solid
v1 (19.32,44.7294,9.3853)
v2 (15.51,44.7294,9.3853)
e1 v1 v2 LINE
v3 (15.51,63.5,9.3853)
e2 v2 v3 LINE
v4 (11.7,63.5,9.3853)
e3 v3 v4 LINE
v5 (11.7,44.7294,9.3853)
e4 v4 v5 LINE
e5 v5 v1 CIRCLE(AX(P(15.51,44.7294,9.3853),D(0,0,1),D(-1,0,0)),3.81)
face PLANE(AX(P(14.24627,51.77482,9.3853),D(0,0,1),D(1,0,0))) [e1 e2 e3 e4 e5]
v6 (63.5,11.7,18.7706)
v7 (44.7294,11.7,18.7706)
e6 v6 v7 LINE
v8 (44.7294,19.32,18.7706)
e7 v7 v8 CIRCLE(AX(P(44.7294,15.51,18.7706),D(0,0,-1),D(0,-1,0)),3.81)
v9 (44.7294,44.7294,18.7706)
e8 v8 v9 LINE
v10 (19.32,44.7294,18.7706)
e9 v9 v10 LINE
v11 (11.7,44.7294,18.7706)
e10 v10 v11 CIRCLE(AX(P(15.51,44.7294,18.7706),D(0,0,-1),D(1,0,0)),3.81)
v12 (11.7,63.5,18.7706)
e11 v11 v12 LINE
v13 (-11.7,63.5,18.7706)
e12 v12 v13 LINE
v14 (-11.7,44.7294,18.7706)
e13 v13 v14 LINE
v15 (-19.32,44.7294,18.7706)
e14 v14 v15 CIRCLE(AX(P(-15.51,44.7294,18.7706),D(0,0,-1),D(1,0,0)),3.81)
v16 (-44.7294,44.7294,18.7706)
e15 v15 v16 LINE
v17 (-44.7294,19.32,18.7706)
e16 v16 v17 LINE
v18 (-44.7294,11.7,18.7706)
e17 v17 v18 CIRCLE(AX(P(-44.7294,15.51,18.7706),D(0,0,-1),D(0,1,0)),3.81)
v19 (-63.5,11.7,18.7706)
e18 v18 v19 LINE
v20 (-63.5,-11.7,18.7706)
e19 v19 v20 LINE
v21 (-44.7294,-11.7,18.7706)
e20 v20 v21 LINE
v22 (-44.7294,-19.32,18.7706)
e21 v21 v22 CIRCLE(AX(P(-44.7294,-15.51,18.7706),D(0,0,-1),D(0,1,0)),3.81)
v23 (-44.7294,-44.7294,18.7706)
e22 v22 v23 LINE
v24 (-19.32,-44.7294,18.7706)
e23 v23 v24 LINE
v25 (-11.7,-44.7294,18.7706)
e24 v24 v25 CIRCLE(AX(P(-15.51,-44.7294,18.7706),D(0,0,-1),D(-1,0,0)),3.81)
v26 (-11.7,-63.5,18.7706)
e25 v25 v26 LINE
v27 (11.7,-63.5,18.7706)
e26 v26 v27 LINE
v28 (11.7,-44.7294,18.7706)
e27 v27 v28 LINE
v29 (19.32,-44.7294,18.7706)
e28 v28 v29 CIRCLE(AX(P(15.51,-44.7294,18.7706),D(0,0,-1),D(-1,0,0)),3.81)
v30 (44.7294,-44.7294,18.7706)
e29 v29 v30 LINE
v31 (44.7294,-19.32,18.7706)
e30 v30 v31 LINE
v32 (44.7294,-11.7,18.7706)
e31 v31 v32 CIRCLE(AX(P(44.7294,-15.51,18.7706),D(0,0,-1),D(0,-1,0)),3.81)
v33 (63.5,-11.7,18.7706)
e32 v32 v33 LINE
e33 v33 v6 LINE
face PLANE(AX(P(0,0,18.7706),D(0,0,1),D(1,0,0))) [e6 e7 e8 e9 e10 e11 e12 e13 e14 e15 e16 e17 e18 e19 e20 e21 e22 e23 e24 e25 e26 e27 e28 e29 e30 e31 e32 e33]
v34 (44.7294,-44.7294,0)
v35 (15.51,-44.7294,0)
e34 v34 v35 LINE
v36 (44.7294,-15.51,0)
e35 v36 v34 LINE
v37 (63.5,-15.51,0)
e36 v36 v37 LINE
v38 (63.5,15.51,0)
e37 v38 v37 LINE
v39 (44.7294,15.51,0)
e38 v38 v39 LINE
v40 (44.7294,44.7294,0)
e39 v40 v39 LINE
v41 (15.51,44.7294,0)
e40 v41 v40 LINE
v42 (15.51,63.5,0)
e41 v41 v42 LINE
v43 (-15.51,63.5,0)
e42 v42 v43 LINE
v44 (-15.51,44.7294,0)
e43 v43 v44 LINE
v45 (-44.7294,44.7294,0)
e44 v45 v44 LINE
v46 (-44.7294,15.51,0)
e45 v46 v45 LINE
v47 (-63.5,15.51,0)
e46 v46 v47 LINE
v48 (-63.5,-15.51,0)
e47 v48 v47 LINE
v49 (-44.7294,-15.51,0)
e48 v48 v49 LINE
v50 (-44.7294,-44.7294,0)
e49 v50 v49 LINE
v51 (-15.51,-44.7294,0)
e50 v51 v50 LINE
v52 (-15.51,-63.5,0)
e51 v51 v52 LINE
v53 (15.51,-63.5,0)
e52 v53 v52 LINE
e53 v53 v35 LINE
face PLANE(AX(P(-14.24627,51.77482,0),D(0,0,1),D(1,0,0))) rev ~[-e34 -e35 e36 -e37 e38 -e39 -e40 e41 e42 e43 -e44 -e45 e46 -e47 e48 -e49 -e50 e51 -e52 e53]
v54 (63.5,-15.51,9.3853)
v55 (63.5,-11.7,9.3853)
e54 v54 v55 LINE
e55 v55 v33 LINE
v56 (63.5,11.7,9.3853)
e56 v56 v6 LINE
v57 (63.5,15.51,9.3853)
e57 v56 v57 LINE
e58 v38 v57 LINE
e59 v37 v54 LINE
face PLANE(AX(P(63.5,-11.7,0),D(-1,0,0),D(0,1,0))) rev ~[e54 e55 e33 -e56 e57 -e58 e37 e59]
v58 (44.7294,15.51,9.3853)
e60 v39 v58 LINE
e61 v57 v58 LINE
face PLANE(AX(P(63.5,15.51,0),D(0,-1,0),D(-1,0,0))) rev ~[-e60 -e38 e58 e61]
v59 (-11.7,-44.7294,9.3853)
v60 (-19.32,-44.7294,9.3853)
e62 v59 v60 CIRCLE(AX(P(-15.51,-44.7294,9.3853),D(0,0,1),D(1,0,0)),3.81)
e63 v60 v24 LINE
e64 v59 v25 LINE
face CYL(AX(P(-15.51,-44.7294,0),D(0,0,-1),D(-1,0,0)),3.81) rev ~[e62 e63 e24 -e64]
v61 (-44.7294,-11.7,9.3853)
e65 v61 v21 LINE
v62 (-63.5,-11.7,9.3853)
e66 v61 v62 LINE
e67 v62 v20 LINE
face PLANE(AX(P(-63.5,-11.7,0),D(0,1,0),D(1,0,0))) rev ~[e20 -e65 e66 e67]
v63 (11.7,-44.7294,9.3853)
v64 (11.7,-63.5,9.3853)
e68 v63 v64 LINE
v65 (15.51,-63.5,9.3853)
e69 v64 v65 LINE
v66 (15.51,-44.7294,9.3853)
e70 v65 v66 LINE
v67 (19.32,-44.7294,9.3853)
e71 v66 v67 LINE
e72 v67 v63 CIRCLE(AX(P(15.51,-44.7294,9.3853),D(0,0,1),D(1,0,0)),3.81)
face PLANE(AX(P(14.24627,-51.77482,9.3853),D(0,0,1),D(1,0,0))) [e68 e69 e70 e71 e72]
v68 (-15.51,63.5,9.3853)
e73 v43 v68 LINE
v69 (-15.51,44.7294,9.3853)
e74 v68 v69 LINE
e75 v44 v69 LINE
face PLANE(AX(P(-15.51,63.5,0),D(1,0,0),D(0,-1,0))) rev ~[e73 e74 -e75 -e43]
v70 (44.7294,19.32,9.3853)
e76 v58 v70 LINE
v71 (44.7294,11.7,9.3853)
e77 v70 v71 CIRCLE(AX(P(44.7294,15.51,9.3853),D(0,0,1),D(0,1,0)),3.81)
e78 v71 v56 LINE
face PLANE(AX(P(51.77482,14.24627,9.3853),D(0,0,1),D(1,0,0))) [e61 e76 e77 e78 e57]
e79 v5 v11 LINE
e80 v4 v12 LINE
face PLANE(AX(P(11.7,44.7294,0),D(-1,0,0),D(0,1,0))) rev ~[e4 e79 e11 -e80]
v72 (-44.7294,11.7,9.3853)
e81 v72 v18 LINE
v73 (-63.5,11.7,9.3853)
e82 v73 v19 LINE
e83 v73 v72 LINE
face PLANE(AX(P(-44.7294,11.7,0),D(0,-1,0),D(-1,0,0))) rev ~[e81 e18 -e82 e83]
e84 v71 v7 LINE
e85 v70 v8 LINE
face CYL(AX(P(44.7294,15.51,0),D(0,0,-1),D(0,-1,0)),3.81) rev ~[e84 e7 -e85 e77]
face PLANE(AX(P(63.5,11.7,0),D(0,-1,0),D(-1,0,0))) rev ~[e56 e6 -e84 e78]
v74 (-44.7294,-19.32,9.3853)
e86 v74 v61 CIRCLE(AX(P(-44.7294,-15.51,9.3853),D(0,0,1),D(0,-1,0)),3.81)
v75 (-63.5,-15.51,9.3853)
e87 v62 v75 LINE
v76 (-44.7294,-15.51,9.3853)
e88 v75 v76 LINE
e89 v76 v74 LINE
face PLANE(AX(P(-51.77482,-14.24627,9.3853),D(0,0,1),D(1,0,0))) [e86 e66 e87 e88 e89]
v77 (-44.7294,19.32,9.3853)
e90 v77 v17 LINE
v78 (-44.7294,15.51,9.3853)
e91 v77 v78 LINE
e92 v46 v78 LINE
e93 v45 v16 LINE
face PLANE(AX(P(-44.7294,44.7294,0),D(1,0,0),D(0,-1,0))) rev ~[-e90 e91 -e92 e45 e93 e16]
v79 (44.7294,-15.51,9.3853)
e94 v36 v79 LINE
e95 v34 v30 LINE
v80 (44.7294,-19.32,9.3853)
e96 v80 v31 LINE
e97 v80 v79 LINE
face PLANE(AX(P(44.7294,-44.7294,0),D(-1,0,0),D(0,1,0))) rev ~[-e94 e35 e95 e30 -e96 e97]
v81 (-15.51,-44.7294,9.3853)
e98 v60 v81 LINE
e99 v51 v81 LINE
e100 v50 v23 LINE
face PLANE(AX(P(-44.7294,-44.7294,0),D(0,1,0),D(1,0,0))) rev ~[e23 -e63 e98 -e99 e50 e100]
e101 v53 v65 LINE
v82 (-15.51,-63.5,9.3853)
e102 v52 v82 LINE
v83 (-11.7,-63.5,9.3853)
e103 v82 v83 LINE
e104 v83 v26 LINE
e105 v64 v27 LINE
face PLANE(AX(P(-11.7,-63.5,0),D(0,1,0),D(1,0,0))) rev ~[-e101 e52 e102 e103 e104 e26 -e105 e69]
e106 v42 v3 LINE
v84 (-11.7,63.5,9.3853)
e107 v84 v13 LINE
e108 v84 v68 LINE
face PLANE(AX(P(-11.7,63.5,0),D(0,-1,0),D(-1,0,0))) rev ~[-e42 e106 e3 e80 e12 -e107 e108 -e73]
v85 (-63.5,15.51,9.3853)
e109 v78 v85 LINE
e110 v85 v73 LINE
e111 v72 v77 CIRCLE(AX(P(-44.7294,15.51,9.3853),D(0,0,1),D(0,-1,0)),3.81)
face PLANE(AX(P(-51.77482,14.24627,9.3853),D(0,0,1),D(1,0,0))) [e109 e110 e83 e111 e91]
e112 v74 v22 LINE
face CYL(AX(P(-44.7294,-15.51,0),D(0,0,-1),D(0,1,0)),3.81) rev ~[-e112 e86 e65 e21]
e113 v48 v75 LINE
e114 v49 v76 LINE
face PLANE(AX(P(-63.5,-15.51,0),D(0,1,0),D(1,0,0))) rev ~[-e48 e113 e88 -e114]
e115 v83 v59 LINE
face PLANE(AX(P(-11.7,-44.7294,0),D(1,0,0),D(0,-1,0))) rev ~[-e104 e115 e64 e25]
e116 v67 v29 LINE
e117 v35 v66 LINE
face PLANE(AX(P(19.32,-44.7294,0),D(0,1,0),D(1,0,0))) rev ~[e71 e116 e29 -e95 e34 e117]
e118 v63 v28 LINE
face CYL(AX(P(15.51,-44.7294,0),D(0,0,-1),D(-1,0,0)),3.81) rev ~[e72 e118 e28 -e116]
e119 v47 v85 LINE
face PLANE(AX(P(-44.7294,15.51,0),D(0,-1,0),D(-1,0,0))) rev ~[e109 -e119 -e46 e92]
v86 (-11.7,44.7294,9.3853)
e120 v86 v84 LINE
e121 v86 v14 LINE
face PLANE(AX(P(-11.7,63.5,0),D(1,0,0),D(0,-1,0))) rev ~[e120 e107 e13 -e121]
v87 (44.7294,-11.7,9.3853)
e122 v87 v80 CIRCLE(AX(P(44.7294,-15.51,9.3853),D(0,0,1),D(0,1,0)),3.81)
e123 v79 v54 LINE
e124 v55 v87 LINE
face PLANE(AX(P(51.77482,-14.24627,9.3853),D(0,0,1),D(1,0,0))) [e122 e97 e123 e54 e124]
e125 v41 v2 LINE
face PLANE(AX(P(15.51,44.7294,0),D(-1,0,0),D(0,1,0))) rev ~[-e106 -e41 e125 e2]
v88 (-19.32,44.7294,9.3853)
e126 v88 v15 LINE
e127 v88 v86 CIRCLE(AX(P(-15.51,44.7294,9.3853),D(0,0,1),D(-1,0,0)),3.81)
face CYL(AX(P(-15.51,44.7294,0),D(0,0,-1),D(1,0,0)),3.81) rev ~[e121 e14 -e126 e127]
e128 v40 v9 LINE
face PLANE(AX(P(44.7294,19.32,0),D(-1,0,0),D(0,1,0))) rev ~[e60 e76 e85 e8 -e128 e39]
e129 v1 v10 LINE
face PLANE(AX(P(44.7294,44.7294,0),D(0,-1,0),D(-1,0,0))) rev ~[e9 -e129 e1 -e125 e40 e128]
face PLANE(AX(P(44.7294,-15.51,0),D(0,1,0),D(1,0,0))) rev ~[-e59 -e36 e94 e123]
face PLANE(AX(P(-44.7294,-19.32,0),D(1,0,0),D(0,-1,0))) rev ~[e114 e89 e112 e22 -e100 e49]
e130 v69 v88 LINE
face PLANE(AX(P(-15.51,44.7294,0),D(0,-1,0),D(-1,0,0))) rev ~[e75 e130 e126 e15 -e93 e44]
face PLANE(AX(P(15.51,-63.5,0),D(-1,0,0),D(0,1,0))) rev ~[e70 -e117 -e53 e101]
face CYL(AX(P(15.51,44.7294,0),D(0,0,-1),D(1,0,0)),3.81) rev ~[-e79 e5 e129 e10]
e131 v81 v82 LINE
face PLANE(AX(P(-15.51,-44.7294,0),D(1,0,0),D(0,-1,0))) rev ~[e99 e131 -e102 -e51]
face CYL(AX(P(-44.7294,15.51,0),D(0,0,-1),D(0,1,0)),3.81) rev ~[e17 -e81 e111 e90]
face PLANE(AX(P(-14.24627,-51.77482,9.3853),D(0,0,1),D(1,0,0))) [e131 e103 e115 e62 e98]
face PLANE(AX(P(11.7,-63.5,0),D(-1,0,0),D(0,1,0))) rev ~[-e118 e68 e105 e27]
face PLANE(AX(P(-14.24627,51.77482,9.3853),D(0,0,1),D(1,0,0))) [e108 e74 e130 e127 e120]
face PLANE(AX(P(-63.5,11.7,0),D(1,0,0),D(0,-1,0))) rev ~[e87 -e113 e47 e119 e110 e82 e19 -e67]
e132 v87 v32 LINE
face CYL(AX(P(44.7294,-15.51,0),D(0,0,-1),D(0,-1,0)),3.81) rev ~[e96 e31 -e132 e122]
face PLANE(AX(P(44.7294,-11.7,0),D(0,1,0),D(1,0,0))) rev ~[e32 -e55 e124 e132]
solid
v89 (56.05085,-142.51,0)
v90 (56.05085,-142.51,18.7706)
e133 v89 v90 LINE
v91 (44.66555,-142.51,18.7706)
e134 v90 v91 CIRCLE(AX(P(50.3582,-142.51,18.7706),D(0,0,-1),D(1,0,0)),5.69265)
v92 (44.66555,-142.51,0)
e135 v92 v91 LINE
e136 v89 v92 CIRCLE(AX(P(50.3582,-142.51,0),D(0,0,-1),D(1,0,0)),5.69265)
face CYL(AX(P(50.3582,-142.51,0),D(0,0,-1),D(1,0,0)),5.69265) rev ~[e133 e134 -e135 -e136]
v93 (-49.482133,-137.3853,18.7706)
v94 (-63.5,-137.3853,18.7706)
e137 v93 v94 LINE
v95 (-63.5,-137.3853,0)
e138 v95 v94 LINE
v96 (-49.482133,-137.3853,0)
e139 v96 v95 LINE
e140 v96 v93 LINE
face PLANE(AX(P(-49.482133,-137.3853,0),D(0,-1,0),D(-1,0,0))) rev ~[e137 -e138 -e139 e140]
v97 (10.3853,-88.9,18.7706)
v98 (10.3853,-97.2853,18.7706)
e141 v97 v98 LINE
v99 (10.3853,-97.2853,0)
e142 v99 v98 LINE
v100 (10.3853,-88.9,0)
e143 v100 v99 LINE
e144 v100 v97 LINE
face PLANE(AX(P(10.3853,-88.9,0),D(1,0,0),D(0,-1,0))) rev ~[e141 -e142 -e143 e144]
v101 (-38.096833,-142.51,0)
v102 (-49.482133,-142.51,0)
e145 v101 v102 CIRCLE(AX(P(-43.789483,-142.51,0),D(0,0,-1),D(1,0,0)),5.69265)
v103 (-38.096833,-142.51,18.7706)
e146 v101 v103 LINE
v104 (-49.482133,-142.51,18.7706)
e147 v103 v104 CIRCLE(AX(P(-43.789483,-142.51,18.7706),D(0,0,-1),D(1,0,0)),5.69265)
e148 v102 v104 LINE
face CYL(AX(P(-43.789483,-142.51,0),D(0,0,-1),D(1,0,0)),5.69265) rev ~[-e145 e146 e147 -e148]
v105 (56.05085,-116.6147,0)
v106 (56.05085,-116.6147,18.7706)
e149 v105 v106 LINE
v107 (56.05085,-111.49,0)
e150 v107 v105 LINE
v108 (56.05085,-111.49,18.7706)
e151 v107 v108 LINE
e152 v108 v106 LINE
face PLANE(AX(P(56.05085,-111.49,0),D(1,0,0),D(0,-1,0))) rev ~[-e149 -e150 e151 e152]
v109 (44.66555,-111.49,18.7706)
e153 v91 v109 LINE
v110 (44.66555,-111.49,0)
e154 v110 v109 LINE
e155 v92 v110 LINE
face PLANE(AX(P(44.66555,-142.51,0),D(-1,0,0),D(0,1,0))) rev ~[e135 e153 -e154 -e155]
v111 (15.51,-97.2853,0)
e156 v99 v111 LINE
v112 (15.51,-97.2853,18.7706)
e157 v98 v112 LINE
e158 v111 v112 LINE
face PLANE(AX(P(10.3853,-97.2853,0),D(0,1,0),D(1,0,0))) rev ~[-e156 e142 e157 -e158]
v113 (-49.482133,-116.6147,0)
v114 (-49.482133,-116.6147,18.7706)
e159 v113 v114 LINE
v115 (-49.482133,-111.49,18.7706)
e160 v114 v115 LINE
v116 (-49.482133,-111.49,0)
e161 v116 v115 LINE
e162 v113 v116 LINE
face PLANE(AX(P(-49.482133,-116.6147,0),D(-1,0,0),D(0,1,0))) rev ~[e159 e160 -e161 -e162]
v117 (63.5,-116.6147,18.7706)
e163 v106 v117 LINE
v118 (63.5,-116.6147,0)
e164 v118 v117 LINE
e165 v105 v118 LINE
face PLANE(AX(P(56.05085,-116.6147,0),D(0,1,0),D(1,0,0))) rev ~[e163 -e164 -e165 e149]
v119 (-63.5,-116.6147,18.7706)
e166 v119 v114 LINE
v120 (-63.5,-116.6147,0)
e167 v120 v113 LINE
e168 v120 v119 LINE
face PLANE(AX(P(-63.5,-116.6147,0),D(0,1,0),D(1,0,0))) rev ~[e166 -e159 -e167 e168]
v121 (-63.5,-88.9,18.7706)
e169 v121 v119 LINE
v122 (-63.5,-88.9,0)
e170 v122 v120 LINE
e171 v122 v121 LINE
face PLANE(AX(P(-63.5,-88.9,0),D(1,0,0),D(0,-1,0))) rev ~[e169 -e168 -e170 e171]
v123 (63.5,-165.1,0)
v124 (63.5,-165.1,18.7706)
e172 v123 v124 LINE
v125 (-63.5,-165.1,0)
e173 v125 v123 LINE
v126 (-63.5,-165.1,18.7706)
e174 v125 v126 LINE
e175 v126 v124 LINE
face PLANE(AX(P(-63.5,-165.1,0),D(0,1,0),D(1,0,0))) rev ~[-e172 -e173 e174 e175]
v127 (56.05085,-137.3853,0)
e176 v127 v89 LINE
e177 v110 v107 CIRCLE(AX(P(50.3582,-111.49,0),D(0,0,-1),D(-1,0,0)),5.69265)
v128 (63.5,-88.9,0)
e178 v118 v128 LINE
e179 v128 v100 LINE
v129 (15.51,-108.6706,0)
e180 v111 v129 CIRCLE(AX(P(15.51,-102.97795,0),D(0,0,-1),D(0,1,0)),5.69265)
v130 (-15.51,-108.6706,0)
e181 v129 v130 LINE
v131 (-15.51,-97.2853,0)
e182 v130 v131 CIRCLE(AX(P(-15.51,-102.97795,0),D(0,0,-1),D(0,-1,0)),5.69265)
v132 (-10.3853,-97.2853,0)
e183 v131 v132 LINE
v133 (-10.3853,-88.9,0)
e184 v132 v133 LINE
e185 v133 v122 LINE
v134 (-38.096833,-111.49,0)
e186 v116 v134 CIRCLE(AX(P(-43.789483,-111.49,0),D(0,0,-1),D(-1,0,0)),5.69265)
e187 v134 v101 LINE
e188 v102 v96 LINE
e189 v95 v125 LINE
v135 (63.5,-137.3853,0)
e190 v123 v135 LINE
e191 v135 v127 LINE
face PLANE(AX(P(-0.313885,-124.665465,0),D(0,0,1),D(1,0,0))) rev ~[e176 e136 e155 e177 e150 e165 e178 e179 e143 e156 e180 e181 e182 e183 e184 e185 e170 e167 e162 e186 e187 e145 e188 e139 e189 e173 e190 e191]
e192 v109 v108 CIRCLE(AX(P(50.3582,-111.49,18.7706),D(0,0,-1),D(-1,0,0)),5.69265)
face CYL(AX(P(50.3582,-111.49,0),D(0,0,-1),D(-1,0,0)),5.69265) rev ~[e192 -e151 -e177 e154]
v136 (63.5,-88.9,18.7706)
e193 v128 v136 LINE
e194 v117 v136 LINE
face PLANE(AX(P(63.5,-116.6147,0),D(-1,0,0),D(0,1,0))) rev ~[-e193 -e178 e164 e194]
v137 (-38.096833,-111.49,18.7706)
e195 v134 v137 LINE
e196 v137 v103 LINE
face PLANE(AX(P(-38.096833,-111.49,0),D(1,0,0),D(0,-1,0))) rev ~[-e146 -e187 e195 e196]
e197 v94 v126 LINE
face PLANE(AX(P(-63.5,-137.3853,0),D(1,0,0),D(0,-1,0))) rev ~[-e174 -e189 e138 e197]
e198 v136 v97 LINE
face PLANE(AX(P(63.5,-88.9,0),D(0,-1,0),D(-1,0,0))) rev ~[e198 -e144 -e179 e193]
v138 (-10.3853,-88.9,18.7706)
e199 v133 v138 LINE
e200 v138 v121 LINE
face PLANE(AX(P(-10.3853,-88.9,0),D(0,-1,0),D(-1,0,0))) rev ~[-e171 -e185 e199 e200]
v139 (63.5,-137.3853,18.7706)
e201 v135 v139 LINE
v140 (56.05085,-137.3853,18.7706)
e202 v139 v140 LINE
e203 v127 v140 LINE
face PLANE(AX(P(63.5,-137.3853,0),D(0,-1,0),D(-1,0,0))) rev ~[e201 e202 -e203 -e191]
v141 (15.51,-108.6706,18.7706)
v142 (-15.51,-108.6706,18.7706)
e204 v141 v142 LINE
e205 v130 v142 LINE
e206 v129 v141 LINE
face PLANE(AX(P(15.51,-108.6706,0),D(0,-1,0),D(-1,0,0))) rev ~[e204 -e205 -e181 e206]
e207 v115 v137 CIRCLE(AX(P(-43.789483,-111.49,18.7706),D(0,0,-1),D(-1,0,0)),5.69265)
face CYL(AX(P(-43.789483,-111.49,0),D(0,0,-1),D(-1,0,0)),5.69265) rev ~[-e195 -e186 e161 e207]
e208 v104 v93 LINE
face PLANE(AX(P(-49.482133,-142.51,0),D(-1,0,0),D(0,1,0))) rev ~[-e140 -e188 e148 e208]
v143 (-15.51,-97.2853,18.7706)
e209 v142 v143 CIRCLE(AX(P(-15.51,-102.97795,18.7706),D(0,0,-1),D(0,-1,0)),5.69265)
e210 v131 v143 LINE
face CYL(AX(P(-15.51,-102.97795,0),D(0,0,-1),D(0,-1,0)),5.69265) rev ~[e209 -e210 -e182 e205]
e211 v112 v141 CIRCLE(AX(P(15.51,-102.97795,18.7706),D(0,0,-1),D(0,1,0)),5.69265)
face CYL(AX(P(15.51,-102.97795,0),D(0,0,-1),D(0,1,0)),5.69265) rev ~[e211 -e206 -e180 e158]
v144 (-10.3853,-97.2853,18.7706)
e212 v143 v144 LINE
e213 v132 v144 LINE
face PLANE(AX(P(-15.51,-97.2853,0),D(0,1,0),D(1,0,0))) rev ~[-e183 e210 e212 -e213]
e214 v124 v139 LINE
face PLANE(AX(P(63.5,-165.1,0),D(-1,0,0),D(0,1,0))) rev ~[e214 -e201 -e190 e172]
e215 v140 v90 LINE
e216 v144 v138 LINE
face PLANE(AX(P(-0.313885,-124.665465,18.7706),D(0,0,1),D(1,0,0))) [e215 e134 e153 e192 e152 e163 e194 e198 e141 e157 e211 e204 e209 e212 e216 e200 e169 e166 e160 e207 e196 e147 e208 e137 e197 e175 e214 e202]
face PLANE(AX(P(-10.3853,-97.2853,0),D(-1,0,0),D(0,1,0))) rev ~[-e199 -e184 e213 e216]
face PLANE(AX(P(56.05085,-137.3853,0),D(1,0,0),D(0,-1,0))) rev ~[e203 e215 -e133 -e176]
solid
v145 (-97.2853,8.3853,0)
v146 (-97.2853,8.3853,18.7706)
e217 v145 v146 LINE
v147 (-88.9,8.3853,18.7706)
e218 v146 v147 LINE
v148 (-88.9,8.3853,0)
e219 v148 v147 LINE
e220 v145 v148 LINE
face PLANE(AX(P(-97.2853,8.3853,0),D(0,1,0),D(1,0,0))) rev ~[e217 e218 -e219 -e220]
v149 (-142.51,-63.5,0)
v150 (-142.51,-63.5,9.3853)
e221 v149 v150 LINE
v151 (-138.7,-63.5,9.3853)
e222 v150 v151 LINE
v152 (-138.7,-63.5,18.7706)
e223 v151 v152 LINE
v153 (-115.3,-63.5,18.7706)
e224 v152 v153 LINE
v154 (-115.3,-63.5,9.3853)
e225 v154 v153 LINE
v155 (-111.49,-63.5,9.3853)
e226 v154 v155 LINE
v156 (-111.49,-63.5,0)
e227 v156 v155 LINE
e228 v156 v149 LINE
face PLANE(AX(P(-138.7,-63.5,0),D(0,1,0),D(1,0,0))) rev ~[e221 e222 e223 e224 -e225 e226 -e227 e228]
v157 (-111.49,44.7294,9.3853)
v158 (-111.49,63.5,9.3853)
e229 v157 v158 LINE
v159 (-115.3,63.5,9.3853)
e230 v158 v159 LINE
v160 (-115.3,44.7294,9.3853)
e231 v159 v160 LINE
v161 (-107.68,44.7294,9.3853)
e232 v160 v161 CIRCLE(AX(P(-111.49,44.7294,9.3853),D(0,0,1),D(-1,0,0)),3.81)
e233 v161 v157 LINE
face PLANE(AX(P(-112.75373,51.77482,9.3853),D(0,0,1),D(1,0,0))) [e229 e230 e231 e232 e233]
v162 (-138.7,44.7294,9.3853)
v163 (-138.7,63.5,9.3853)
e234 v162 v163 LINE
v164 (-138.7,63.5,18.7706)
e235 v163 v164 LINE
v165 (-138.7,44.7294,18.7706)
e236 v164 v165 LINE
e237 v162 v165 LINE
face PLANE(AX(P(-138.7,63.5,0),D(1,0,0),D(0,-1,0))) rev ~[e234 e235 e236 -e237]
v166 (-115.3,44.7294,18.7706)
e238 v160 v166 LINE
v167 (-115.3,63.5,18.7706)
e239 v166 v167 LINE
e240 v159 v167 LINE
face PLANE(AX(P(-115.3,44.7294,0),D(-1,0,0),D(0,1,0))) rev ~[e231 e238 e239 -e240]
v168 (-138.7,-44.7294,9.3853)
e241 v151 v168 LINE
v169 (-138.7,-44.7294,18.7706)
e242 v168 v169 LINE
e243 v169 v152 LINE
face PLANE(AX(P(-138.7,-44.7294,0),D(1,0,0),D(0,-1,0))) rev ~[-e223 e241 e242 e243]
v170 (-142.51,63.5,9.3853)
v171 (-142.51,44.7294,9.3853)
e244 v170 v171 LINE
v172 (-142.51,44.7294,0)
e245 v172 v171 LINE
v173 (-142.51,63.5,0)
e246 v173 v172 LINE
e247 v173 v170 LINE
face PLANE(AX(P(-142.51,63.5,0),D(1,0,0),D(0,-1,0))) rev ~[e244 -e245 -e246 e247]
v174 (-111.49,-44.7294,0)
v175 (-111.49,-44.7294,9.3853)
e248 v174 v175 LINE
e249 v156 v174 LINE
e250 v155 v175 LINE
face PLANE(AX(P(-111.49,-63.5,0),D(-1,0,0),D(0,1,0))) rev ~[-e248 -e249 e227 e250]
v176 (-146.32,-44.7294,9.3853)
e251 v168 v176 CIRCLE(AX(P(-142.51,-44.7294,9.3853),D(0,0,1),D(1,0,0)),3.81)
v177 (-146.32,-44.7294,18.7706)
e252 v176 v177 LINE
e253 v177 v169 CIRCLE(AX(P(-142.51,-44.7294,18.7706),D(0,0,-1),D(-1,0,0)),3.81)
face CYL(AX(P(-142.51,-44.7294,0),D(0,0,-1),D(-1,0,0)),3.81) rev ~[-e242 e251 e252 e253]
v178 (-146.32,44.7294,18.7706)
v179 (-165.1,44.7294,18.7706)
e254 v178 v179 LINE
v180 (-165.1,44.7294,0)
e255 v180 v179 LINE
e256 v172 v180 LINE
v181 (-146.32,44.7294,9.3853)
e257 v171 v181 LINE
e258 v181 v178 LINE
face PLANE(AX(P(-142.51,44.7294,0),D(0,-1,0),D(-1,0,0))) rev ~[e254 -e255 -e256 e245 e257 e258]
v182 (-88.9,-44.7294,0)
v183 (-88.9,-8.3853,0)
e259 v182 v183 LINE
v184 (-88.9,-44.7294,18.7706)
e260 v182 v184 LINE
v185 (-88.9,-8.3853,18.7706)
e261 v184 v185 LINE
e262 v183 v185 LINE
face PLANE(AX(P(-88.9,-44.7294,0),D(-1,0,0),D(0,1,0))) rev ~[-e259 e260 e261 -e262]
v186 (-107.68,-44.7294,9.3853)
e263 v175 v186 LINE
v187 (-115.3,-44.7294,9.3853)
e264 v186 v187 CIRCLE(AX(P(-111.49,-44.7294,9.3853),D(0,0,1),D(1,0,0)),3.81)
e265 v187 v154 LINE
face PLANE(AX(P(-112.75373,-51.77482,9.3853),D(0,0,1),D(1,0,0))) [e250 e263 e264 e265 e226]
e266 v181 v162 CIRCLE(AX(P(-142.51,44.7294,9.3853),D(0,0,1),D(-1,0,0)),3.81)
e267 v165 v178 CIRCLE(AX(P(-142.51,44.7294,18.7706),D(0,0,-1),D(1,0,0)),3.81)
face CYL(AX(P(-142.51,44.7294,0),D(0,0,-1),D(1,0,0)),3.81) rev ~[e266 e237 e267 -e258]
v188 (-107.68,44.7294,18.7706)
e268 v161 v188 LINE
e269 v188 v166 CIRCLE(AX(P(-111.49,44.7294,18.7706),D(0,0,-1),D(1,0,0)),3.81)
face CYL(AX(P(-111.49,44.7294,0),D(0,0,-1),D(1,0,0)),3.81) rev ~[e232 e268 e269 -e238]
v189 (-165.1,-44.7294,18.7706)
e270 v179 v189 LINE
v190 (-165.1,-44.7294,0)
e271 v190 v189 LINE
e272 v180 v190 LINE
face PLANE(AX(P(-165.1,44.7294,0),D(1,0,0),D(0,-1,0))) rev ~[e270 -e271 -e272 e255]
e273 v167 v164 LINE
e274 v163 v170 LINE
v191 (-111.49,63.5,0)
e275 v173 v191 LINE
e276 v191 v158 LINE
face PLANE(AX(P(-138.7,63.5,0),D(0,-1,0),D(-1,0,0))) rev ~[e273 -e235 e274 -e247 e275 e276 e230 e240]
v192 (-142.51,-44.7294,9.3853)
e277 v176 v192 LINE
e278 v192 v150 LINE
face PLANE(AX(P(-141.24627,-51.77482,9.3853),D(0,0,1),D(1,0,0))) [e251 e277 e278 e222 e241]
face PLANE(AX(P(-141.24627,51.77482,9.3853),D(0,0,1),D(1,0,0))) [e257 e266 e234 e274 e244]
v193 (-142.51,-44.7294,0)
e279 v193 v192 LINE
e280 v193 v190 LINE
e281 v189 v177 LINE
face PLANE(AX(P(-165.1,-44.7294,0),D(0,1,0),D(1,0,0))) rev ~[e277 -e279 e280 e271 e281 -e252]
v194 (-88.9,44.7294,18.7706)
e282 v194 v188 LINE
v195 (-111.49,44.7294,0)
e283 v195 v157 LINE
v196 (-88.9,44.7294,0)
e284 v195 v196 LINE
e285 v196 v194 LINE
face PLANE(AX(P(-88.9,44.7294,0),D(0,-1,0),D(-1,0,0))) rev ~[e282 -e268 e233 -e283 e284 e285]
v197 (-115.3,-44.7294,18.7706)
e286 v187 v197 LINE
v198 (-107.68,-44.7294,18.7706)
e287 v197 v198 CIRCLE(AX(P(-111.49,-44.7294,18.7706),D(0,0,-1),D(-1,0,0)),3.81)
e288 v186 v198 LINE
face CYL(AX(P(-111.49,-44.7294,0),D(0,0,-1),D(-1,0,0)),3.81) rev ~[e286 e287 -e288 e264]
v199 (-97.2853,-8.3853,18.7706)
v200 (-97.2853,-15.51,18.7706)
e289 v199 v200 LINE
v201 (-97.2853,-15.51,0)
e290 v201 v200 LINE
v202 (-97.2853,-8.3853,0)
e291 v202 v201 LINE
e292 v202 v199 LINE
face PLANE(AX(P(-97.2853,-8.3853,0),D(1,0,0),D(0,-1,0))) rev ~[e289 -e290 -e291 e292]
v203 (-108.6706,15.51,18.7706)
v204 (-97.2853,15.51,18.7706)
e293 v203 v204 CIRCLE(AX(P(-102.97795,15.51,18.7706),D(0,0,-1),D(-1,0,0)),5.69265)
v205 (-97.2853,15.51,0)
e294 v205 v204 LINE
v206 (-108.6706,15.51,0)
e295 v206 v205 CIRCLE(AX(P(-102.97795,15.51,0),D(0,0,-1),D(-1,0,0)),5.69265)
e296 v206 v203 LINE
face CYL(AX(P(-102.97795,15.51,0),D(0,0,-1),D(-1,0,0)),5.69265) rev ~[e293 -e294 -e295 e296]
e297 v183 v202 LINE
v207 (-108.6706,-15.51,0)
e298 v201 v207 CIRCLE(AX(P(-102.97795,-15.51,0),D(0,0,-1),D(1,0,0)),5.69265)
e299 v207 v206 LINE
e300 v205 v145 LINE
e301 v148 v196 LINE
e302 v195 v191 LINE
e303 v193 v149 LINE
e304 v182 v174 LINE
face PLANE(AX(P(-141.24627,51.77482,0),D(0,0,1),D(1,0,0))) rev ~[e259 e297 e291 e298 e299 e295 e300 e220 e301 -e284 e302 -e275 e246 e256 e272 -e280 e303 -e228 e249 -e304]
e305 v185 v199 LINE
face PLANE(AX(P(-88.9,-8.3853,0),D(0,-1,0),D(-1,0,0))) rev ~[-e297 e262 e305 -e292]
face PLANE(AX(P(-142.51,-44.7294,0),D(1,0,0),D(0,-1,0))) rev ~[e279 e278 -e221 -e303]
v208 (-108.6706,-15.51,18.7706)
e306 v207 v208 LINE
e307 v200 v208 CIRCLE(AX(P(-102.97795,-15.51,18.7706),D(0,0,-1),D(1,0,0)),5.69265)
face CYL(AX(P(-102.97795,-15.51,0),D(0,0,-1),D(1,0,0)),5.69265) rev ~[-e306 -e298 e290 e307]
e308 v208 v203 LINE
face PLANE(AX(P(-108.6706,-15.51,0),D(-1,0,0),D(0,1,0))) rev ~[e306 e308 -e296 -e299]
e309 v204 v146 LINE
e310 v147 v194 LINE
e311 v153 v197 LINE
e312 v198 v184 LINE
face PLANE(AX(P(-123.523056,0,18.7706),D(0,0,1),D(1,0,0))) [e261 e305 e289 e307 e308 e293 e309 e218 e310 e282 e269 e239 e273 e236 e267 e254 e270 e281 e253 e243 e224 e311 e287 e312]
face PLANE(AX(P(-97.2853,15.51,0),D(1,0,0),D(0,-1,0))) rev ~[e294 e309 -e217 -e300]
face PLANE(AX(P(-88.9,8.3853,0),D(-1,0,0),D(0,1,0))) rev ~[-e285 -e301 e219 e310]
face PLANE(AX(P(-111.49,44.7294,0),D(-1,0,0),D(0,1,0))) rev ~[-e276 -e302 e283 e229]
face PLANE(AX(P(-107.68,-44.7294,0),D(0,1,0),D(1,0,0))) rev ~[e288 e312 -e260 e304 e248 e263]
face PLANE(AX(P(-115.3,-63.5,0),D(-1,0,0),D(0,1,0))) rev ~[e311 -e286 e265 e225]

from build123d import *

# Parameters (mm, degrees)
F2_DEPTH = 18.7706
F3_DEPTH = 9.3853
F4_DEPTH = 18.7706
F5_DEPTH = 18.7706
F6_DEPTH = 9.3853


with BuildPart() as f2:
    # F1 (on Top) → F2 (new body)
    with BuildSketch(Plane.XY):
        with BuildLine():
            Line((19.32, -44.7294), (44.7294, -44.7294))
            Line((44.7294, -44.7294), (44.7294, -19.32))
            ThreePointArc((44.7294, -19.32), (40.9194, -15.51), (44.7294, -11.7))
            Line((44.7294, -11.7), (63.5, -11.7))
            Line((63.5, -11.7), (63.5, 11.7))
            Line((63.5, 11.7), (44.7294, 11.7))
            ThreePointArc((44.7294, 11.7), (40.9194, 15.51), (44.7294, 19.32))
            Line((44.7294, 19.32), (44.7294, 44.7294))
            Line((44.7294, 44.7294), (19.32, 44.7294))
            ThreePointArc((19.32, 44.7294), (15.51, 40.9194), (11.7, 44.7294))
            Line((11.7, 44.7294), (11.7, 63.5))
            Line((11.7, 63.5), (-11.7, 63.5))
            Line((-11.7, 63.5), (-11.7, 44.7294))
            ThreePointArc((-11.7, 44.7294), (-15.51, 40.9194), (-19.32, 44.7294))
            Line((-19.32, 44.7294), (-44.7294, 44.7294))
            Line((-44.7294, 44.7294), (-44.7294, 19.32))
            ThreePointArc((-44.7294, 19.32), (-40.9194, 15.51), (-44.7294, 11.7))
            Line((-44.7294, 11.7), (-63.5, 11.7))
            Line((-63.5, 11.7), (-63.5, -11.7))
            Line((-63.5, -11.7), (-44.7294, -11.7))
            ThreePointArc((-44.7294, -11.7), (-40.9194, -15.51), (-44.7294, -19.32))
            Line((-44.7294, -19.32), (-44.7294, -44.7294))
            Line((-44.7294, -44.7294), (-19.32, -44.7294))
            ThreePointArc((-19.32, -44.7294), (-15.51, -40.9194), (-11.7, -44.7294))
            Line((-11.7, -44.7294), (-11.7, -63.5))
            Line((-11.7, -63.5), (11.7, -63.5))
            Line((11.7, -63.5), (11.7, -44.7294))
            ThreePointArc((11.7, -44.7294), (15.51, -40.9194), (19.32, -44.7294))
        make_face()
    extrude(amount=F2_DEPTH)

    # F1 (on Top) → F3 (join)
    with BuildSketch(Plane.XY):
        with BuildLine():
            Line((-11.7, 44.7294), (-11.7, 63.5))
            Line((-11.7, 63.5), (-15.51, 63.5))
            Line((-15.51, 63.5), (-15.51, 44.7294))
            Line((-15.51, 44.7294), (-19.32, 44.7294))
            ThreePointArc((-19.32, 44.7294), (-15.51, 40.9194), (-11.7, 44.7294))
        make_face()
        with BuildLine():
            Line((-63.5, 15.51), (-63.5, 11.7))
            Line((-63.5, 11.7), (-44.7294, 11.7))
            ThreePointArc((-44.7294, 11.7), (-40.9194, 15.51), (-44.7294, 19.32))
            Line((-44.7294, 19.32), (-44.7294, 15.51))
            Line((-44.7294, 15.51), (-63.5, 15.51))
        make_face()
        with BuildLine():
            Line((-44.7294, -15.51), (-44.7294, -19.32))
            ThreePointArc((-44.7294, -19.32), (-40.9194, -15.51), (-44.7294, -11.7))
            Line((-44.7294, -11.7), (-63.5, -11.7))
            Line((-63.5, -11.7), (-63.5, -15.51))
            Line((-63.5, -15.51), (-44.7294, -15.51))
        make_face()
        with BuildLine():
            Line((-15.51, -63.5), (-11.7, -63.5))
            Line((-11.7, -63.5), (-11.7, -44.7294))
            ThreePointArc((-11.7, -44.7294), (-15.51, -40.9194), (-19.32, -44.7294))
            Line((-19.32, -44.7294), (-15.51, -44.7294))
            Line((-15.51, -44.7294), (-15.51, -63.5))
        make_face()
        with BuildLine():
            Line((15.51, -44.7294), (19.32, -44.7294))
            ThreePointArc((19.32, -44.7294), (15.51, -40.9194), (11.7, -44.7294))
            Line((11.7, -44.7294), (11.7, -63.5))
            Line((11.7, -63.5), (15.51, -63.5))
            Line((15.51, -63.5), (15.51, -44.7294))
        make_face()
        with BuildLine():
            ThreePointArc((44.7294, -11.7), (40.9194, -15.51), (44.7294, -19.32))
            Line((44.7294, -19.32), (44.7294, -15.51))
            Line((44.7294, -15.51), (63.5, -15.51))
            Line((63.5, -15.51), (63.5, -11.7))
            Line((63.5, -11.7), (44.7294, -11.7))
        make_face()
        with BuildLine():
            Line((44.7294, 11.7), (63.5, 11.7))
            Line((63.5, 11.7), (63.5, 15.51))
            Line((63.5, 15.51), (44.7294, 15.51))
            Line((44.7294, 15.51), (44.7294, 19.32))
            ThreePointArc((44.7294, 19.32), (40.9194, 15.51), (44.7294, 11.7))
        make_face()
        with BuildLine():
            ThreePointArc((11.7, 44.7294), (15.51, 40.9194), (19.32, 44.7294))
            Line((19.32, 44.7294), (15.51, 44.7294))
            Line((15.51, 44.7294), (15.51, 63.5))
            Line((15.51, 63.5), (11.7, 63.5))
            Line((11.7, 63.5), (11.7, 44.7294))
        make_face()
    extrude(amount=F3_DEPTH)


with BuildPart() as f4:
    # F1 (on Top) → F4 (new body)
    with BuildSketch(Plane.XY):
        with BuildLine():
            Line((-63.5, -137.3853), (-63.5, -165.1))
            Line((-63.5, -165.1), (63.5, -165.1))
            Line((63.5, -165.1), (63.5, -137.3853))
            Line((63.5, -137.3853), (56.0508503042, -137.3853))
            Line((56.0508503042, -137.3853), (56.0508503042, -142.51))
            ThreePointArc((56.0508503042, -142.51), (50.3582003042, -148.20265), (44.6655503042, -142.51))
            Line((44.6655503042, -142.51), (44.6655503042, -111.49))
            ThreePointArc((44.6655503042, -111.49), (50.3582003042, -105.79735), (56.0508503042, -111.49))
            Line((56.0508503042, -111.49), (56.0508503042, -116.6147))
            Line((56.0508503042, -116.6147), (63.5, -116.6147))
            Line((63.5, -116.6147), (63.5, -88.9))
            Line((63.5, -88.9), (10.3853, -88.9))
            Line((10.3853, -88.9), (10.3853, -97.2853))
            Line((10.3853, -97.2853), (15.51, -97.2853))
            ThreePointArc((15.51, -97.2853), (21.20265, -102.97795), (15.51, -108.6706))
            Line((15.51, -108.6706), (-15.51, -108.6706))
            ThreePointArc((-15.51, -108.6706), (-21.20265, -102.97795), (-15.51, -97.2853))
            Line((-15.51, -97.2853), (-10.3853, -97.2853))
            Line((-10.3853, -97.2853), (-10.3853, -88.9))
            Line((-10.3853, -88.9), (-63.5, -88.9))
            Line((-63.5, -88.9), (-63.5, -116.6147))
            Line((-63.5, -116.6147), (-49.4821332395, -116.6147))
            Line((-49.4821332395, -116.6147), (-49.4821332395, -111.49))
            ThreePointArc((-49.4821332395, -111.49), (-43.7894832395, -105.79735), (-38.0968332395, -111.49))
            Line((-38.0968332395, -111.49), (-38.0968332395, -142.51))
            ThreePointArc((-38.0968332395, -142.51), (-43.7894832395, -148.20265), (-49.4821332395, -142.51))
            Line((-49.4821332395, -142.51), (-49.4821332395, -137.3853))
            Line((-49.4821332395, -137.3853), (-63.5, -137.3853))
        make_face()
    extrude(amount=F4_DEPTH)


with BuildPart() as f5:
    # F1 (on Top) → F5 (new body)
    with BuildSketch(Plane.XY):
        with BuildLine():
            Line((-107.68, -44.7294), (-88.9, -44.7294))
            Line((-88.9, -44.7294), (-88.9, -8.3853))
            Line((-88.9, -8.3853), (-97.2853, -8.3853))
            Line((-97.2853, -8.3853), (-97.2853, -15.51))
            ThreePointArc((-97.2853, -15.51), (-102.97795, -21.20265), (-108.6706, -15.51))
            Line((-108.6706, -15.51), (-108.6706, 15.51))
            ThreePointArc((-108.6706, 15.51), (-102.97795, 21.20265), (-97.2853, 15.51))
            Line((-97.2853, 15.51), (-97.2853, 8.3853))
            Line((-97.2853, 8.3853), (-88.9, 8.3853))
            Line((-88.9, 8.3853), (-88.9, 44.7294))
            Line((-88.9, 44.7294), (-107.68, 44.7294))
            ThreePointArc((-107.68, 44.7294), (-111.49, 40.9194), (-115.3, 44.7294))
            Line((-115.3, 44.7294), (-115.3, 63.5))
            Line((-115.3, 63.5), (-138.7, 63.5))
            Line((-138.7, 63.5), (-138.7, 44.7294))
            ThreePointArc((-138.7, 44.7294), (-142.51, 40.9194), (-146.32, 44.7294))
            Line((-146.32, 44.7294), (-165.1, 44.7294))
            Line((-165.1, 44.7294), (-165.1, -44.7294))
            Line((-165.1, -44.7294), (-146.32, -44.7294))
            ThreePointArc((-146.32, -44.7294), (-142.51, -40.9194), (-138.7, -44.7294))
            Line((-138.7, -44.7294), (-138.7, -63.5))
            Line((-138.7, -63.5), (-115.3, -63.5))
            Line((-115.3, -63.5), (-115.3, -44.7294))
            ThreePointArc((-115.3, -44.7294), (-111.49, -40.9194), (-107.68, -44.7294))
        make_face()
    extrude(amount=F5_DEPTH)

    # F1 (on Top) → F6 (join)
    with BuildSketch(Plane.XY):
        with BuildLine():
            Line((-142.51, 44.7294), (-146.32, 44.7294))
            ThreePointArc((-146.32, 44.7294), (-142.51, 40.9194), (-138.7, 44.7294))
            Line((-138.7, 44.7294), (-138.7, 63.5))
            Line((-138.7, 63.5), (-142.51, 63.5))
            Line((-142.51, 63.5), (-142.51, 44.7294))
        make_face()
        with BuildLine():
            ThreePointArc((-115.3, 44.7294), (-111.49, 40.9194), (-107.68, 44.7294))
            Line((-107.68, 44.7294), (-111.49, 44.7294))
            Line((-111.49, 44.7294), (-111.49, 63.5))
            Line((-111.49, 63.5), (-115.3, 63.5))
            Line((-115.3, 63.5), (-115.3, 44.7294))
        make_face()
        with BuildLine():
            Line((-111.49, -44.7294), (-107.68, -44.7294))
            ThreePointArc((-107.68, -44.7294), (-111.49, -40.9194), (-115.3, -44.7294))
            Line((-115.3, -44.7294), (-115.3, -63.5))
            Line((-115.3, -63.5), (-111.49, -63.5))
            Line((-111.49, -63.5), (-111.49, -44.7294))
        make_face()
        with BuildLine():
            Line((-142.51, -63.5), (-138.7, -63.5))
            Line((-138.7, -63.5), (-138.7, -44.7294))
            ThreePointArc((-138.7, -44.7294), (-142.51, -40.9194), (-146.32, -44.7294))
            Line((-146.32, -44.7294), (-142.51, -44.7294))
            Line((-142.51, -44.7294), (-142.51, -63.5))
        make_face()
    extrude(amount=F6_DEPTH)


solid = Compound([f2.part, f4.part, f5.part])
